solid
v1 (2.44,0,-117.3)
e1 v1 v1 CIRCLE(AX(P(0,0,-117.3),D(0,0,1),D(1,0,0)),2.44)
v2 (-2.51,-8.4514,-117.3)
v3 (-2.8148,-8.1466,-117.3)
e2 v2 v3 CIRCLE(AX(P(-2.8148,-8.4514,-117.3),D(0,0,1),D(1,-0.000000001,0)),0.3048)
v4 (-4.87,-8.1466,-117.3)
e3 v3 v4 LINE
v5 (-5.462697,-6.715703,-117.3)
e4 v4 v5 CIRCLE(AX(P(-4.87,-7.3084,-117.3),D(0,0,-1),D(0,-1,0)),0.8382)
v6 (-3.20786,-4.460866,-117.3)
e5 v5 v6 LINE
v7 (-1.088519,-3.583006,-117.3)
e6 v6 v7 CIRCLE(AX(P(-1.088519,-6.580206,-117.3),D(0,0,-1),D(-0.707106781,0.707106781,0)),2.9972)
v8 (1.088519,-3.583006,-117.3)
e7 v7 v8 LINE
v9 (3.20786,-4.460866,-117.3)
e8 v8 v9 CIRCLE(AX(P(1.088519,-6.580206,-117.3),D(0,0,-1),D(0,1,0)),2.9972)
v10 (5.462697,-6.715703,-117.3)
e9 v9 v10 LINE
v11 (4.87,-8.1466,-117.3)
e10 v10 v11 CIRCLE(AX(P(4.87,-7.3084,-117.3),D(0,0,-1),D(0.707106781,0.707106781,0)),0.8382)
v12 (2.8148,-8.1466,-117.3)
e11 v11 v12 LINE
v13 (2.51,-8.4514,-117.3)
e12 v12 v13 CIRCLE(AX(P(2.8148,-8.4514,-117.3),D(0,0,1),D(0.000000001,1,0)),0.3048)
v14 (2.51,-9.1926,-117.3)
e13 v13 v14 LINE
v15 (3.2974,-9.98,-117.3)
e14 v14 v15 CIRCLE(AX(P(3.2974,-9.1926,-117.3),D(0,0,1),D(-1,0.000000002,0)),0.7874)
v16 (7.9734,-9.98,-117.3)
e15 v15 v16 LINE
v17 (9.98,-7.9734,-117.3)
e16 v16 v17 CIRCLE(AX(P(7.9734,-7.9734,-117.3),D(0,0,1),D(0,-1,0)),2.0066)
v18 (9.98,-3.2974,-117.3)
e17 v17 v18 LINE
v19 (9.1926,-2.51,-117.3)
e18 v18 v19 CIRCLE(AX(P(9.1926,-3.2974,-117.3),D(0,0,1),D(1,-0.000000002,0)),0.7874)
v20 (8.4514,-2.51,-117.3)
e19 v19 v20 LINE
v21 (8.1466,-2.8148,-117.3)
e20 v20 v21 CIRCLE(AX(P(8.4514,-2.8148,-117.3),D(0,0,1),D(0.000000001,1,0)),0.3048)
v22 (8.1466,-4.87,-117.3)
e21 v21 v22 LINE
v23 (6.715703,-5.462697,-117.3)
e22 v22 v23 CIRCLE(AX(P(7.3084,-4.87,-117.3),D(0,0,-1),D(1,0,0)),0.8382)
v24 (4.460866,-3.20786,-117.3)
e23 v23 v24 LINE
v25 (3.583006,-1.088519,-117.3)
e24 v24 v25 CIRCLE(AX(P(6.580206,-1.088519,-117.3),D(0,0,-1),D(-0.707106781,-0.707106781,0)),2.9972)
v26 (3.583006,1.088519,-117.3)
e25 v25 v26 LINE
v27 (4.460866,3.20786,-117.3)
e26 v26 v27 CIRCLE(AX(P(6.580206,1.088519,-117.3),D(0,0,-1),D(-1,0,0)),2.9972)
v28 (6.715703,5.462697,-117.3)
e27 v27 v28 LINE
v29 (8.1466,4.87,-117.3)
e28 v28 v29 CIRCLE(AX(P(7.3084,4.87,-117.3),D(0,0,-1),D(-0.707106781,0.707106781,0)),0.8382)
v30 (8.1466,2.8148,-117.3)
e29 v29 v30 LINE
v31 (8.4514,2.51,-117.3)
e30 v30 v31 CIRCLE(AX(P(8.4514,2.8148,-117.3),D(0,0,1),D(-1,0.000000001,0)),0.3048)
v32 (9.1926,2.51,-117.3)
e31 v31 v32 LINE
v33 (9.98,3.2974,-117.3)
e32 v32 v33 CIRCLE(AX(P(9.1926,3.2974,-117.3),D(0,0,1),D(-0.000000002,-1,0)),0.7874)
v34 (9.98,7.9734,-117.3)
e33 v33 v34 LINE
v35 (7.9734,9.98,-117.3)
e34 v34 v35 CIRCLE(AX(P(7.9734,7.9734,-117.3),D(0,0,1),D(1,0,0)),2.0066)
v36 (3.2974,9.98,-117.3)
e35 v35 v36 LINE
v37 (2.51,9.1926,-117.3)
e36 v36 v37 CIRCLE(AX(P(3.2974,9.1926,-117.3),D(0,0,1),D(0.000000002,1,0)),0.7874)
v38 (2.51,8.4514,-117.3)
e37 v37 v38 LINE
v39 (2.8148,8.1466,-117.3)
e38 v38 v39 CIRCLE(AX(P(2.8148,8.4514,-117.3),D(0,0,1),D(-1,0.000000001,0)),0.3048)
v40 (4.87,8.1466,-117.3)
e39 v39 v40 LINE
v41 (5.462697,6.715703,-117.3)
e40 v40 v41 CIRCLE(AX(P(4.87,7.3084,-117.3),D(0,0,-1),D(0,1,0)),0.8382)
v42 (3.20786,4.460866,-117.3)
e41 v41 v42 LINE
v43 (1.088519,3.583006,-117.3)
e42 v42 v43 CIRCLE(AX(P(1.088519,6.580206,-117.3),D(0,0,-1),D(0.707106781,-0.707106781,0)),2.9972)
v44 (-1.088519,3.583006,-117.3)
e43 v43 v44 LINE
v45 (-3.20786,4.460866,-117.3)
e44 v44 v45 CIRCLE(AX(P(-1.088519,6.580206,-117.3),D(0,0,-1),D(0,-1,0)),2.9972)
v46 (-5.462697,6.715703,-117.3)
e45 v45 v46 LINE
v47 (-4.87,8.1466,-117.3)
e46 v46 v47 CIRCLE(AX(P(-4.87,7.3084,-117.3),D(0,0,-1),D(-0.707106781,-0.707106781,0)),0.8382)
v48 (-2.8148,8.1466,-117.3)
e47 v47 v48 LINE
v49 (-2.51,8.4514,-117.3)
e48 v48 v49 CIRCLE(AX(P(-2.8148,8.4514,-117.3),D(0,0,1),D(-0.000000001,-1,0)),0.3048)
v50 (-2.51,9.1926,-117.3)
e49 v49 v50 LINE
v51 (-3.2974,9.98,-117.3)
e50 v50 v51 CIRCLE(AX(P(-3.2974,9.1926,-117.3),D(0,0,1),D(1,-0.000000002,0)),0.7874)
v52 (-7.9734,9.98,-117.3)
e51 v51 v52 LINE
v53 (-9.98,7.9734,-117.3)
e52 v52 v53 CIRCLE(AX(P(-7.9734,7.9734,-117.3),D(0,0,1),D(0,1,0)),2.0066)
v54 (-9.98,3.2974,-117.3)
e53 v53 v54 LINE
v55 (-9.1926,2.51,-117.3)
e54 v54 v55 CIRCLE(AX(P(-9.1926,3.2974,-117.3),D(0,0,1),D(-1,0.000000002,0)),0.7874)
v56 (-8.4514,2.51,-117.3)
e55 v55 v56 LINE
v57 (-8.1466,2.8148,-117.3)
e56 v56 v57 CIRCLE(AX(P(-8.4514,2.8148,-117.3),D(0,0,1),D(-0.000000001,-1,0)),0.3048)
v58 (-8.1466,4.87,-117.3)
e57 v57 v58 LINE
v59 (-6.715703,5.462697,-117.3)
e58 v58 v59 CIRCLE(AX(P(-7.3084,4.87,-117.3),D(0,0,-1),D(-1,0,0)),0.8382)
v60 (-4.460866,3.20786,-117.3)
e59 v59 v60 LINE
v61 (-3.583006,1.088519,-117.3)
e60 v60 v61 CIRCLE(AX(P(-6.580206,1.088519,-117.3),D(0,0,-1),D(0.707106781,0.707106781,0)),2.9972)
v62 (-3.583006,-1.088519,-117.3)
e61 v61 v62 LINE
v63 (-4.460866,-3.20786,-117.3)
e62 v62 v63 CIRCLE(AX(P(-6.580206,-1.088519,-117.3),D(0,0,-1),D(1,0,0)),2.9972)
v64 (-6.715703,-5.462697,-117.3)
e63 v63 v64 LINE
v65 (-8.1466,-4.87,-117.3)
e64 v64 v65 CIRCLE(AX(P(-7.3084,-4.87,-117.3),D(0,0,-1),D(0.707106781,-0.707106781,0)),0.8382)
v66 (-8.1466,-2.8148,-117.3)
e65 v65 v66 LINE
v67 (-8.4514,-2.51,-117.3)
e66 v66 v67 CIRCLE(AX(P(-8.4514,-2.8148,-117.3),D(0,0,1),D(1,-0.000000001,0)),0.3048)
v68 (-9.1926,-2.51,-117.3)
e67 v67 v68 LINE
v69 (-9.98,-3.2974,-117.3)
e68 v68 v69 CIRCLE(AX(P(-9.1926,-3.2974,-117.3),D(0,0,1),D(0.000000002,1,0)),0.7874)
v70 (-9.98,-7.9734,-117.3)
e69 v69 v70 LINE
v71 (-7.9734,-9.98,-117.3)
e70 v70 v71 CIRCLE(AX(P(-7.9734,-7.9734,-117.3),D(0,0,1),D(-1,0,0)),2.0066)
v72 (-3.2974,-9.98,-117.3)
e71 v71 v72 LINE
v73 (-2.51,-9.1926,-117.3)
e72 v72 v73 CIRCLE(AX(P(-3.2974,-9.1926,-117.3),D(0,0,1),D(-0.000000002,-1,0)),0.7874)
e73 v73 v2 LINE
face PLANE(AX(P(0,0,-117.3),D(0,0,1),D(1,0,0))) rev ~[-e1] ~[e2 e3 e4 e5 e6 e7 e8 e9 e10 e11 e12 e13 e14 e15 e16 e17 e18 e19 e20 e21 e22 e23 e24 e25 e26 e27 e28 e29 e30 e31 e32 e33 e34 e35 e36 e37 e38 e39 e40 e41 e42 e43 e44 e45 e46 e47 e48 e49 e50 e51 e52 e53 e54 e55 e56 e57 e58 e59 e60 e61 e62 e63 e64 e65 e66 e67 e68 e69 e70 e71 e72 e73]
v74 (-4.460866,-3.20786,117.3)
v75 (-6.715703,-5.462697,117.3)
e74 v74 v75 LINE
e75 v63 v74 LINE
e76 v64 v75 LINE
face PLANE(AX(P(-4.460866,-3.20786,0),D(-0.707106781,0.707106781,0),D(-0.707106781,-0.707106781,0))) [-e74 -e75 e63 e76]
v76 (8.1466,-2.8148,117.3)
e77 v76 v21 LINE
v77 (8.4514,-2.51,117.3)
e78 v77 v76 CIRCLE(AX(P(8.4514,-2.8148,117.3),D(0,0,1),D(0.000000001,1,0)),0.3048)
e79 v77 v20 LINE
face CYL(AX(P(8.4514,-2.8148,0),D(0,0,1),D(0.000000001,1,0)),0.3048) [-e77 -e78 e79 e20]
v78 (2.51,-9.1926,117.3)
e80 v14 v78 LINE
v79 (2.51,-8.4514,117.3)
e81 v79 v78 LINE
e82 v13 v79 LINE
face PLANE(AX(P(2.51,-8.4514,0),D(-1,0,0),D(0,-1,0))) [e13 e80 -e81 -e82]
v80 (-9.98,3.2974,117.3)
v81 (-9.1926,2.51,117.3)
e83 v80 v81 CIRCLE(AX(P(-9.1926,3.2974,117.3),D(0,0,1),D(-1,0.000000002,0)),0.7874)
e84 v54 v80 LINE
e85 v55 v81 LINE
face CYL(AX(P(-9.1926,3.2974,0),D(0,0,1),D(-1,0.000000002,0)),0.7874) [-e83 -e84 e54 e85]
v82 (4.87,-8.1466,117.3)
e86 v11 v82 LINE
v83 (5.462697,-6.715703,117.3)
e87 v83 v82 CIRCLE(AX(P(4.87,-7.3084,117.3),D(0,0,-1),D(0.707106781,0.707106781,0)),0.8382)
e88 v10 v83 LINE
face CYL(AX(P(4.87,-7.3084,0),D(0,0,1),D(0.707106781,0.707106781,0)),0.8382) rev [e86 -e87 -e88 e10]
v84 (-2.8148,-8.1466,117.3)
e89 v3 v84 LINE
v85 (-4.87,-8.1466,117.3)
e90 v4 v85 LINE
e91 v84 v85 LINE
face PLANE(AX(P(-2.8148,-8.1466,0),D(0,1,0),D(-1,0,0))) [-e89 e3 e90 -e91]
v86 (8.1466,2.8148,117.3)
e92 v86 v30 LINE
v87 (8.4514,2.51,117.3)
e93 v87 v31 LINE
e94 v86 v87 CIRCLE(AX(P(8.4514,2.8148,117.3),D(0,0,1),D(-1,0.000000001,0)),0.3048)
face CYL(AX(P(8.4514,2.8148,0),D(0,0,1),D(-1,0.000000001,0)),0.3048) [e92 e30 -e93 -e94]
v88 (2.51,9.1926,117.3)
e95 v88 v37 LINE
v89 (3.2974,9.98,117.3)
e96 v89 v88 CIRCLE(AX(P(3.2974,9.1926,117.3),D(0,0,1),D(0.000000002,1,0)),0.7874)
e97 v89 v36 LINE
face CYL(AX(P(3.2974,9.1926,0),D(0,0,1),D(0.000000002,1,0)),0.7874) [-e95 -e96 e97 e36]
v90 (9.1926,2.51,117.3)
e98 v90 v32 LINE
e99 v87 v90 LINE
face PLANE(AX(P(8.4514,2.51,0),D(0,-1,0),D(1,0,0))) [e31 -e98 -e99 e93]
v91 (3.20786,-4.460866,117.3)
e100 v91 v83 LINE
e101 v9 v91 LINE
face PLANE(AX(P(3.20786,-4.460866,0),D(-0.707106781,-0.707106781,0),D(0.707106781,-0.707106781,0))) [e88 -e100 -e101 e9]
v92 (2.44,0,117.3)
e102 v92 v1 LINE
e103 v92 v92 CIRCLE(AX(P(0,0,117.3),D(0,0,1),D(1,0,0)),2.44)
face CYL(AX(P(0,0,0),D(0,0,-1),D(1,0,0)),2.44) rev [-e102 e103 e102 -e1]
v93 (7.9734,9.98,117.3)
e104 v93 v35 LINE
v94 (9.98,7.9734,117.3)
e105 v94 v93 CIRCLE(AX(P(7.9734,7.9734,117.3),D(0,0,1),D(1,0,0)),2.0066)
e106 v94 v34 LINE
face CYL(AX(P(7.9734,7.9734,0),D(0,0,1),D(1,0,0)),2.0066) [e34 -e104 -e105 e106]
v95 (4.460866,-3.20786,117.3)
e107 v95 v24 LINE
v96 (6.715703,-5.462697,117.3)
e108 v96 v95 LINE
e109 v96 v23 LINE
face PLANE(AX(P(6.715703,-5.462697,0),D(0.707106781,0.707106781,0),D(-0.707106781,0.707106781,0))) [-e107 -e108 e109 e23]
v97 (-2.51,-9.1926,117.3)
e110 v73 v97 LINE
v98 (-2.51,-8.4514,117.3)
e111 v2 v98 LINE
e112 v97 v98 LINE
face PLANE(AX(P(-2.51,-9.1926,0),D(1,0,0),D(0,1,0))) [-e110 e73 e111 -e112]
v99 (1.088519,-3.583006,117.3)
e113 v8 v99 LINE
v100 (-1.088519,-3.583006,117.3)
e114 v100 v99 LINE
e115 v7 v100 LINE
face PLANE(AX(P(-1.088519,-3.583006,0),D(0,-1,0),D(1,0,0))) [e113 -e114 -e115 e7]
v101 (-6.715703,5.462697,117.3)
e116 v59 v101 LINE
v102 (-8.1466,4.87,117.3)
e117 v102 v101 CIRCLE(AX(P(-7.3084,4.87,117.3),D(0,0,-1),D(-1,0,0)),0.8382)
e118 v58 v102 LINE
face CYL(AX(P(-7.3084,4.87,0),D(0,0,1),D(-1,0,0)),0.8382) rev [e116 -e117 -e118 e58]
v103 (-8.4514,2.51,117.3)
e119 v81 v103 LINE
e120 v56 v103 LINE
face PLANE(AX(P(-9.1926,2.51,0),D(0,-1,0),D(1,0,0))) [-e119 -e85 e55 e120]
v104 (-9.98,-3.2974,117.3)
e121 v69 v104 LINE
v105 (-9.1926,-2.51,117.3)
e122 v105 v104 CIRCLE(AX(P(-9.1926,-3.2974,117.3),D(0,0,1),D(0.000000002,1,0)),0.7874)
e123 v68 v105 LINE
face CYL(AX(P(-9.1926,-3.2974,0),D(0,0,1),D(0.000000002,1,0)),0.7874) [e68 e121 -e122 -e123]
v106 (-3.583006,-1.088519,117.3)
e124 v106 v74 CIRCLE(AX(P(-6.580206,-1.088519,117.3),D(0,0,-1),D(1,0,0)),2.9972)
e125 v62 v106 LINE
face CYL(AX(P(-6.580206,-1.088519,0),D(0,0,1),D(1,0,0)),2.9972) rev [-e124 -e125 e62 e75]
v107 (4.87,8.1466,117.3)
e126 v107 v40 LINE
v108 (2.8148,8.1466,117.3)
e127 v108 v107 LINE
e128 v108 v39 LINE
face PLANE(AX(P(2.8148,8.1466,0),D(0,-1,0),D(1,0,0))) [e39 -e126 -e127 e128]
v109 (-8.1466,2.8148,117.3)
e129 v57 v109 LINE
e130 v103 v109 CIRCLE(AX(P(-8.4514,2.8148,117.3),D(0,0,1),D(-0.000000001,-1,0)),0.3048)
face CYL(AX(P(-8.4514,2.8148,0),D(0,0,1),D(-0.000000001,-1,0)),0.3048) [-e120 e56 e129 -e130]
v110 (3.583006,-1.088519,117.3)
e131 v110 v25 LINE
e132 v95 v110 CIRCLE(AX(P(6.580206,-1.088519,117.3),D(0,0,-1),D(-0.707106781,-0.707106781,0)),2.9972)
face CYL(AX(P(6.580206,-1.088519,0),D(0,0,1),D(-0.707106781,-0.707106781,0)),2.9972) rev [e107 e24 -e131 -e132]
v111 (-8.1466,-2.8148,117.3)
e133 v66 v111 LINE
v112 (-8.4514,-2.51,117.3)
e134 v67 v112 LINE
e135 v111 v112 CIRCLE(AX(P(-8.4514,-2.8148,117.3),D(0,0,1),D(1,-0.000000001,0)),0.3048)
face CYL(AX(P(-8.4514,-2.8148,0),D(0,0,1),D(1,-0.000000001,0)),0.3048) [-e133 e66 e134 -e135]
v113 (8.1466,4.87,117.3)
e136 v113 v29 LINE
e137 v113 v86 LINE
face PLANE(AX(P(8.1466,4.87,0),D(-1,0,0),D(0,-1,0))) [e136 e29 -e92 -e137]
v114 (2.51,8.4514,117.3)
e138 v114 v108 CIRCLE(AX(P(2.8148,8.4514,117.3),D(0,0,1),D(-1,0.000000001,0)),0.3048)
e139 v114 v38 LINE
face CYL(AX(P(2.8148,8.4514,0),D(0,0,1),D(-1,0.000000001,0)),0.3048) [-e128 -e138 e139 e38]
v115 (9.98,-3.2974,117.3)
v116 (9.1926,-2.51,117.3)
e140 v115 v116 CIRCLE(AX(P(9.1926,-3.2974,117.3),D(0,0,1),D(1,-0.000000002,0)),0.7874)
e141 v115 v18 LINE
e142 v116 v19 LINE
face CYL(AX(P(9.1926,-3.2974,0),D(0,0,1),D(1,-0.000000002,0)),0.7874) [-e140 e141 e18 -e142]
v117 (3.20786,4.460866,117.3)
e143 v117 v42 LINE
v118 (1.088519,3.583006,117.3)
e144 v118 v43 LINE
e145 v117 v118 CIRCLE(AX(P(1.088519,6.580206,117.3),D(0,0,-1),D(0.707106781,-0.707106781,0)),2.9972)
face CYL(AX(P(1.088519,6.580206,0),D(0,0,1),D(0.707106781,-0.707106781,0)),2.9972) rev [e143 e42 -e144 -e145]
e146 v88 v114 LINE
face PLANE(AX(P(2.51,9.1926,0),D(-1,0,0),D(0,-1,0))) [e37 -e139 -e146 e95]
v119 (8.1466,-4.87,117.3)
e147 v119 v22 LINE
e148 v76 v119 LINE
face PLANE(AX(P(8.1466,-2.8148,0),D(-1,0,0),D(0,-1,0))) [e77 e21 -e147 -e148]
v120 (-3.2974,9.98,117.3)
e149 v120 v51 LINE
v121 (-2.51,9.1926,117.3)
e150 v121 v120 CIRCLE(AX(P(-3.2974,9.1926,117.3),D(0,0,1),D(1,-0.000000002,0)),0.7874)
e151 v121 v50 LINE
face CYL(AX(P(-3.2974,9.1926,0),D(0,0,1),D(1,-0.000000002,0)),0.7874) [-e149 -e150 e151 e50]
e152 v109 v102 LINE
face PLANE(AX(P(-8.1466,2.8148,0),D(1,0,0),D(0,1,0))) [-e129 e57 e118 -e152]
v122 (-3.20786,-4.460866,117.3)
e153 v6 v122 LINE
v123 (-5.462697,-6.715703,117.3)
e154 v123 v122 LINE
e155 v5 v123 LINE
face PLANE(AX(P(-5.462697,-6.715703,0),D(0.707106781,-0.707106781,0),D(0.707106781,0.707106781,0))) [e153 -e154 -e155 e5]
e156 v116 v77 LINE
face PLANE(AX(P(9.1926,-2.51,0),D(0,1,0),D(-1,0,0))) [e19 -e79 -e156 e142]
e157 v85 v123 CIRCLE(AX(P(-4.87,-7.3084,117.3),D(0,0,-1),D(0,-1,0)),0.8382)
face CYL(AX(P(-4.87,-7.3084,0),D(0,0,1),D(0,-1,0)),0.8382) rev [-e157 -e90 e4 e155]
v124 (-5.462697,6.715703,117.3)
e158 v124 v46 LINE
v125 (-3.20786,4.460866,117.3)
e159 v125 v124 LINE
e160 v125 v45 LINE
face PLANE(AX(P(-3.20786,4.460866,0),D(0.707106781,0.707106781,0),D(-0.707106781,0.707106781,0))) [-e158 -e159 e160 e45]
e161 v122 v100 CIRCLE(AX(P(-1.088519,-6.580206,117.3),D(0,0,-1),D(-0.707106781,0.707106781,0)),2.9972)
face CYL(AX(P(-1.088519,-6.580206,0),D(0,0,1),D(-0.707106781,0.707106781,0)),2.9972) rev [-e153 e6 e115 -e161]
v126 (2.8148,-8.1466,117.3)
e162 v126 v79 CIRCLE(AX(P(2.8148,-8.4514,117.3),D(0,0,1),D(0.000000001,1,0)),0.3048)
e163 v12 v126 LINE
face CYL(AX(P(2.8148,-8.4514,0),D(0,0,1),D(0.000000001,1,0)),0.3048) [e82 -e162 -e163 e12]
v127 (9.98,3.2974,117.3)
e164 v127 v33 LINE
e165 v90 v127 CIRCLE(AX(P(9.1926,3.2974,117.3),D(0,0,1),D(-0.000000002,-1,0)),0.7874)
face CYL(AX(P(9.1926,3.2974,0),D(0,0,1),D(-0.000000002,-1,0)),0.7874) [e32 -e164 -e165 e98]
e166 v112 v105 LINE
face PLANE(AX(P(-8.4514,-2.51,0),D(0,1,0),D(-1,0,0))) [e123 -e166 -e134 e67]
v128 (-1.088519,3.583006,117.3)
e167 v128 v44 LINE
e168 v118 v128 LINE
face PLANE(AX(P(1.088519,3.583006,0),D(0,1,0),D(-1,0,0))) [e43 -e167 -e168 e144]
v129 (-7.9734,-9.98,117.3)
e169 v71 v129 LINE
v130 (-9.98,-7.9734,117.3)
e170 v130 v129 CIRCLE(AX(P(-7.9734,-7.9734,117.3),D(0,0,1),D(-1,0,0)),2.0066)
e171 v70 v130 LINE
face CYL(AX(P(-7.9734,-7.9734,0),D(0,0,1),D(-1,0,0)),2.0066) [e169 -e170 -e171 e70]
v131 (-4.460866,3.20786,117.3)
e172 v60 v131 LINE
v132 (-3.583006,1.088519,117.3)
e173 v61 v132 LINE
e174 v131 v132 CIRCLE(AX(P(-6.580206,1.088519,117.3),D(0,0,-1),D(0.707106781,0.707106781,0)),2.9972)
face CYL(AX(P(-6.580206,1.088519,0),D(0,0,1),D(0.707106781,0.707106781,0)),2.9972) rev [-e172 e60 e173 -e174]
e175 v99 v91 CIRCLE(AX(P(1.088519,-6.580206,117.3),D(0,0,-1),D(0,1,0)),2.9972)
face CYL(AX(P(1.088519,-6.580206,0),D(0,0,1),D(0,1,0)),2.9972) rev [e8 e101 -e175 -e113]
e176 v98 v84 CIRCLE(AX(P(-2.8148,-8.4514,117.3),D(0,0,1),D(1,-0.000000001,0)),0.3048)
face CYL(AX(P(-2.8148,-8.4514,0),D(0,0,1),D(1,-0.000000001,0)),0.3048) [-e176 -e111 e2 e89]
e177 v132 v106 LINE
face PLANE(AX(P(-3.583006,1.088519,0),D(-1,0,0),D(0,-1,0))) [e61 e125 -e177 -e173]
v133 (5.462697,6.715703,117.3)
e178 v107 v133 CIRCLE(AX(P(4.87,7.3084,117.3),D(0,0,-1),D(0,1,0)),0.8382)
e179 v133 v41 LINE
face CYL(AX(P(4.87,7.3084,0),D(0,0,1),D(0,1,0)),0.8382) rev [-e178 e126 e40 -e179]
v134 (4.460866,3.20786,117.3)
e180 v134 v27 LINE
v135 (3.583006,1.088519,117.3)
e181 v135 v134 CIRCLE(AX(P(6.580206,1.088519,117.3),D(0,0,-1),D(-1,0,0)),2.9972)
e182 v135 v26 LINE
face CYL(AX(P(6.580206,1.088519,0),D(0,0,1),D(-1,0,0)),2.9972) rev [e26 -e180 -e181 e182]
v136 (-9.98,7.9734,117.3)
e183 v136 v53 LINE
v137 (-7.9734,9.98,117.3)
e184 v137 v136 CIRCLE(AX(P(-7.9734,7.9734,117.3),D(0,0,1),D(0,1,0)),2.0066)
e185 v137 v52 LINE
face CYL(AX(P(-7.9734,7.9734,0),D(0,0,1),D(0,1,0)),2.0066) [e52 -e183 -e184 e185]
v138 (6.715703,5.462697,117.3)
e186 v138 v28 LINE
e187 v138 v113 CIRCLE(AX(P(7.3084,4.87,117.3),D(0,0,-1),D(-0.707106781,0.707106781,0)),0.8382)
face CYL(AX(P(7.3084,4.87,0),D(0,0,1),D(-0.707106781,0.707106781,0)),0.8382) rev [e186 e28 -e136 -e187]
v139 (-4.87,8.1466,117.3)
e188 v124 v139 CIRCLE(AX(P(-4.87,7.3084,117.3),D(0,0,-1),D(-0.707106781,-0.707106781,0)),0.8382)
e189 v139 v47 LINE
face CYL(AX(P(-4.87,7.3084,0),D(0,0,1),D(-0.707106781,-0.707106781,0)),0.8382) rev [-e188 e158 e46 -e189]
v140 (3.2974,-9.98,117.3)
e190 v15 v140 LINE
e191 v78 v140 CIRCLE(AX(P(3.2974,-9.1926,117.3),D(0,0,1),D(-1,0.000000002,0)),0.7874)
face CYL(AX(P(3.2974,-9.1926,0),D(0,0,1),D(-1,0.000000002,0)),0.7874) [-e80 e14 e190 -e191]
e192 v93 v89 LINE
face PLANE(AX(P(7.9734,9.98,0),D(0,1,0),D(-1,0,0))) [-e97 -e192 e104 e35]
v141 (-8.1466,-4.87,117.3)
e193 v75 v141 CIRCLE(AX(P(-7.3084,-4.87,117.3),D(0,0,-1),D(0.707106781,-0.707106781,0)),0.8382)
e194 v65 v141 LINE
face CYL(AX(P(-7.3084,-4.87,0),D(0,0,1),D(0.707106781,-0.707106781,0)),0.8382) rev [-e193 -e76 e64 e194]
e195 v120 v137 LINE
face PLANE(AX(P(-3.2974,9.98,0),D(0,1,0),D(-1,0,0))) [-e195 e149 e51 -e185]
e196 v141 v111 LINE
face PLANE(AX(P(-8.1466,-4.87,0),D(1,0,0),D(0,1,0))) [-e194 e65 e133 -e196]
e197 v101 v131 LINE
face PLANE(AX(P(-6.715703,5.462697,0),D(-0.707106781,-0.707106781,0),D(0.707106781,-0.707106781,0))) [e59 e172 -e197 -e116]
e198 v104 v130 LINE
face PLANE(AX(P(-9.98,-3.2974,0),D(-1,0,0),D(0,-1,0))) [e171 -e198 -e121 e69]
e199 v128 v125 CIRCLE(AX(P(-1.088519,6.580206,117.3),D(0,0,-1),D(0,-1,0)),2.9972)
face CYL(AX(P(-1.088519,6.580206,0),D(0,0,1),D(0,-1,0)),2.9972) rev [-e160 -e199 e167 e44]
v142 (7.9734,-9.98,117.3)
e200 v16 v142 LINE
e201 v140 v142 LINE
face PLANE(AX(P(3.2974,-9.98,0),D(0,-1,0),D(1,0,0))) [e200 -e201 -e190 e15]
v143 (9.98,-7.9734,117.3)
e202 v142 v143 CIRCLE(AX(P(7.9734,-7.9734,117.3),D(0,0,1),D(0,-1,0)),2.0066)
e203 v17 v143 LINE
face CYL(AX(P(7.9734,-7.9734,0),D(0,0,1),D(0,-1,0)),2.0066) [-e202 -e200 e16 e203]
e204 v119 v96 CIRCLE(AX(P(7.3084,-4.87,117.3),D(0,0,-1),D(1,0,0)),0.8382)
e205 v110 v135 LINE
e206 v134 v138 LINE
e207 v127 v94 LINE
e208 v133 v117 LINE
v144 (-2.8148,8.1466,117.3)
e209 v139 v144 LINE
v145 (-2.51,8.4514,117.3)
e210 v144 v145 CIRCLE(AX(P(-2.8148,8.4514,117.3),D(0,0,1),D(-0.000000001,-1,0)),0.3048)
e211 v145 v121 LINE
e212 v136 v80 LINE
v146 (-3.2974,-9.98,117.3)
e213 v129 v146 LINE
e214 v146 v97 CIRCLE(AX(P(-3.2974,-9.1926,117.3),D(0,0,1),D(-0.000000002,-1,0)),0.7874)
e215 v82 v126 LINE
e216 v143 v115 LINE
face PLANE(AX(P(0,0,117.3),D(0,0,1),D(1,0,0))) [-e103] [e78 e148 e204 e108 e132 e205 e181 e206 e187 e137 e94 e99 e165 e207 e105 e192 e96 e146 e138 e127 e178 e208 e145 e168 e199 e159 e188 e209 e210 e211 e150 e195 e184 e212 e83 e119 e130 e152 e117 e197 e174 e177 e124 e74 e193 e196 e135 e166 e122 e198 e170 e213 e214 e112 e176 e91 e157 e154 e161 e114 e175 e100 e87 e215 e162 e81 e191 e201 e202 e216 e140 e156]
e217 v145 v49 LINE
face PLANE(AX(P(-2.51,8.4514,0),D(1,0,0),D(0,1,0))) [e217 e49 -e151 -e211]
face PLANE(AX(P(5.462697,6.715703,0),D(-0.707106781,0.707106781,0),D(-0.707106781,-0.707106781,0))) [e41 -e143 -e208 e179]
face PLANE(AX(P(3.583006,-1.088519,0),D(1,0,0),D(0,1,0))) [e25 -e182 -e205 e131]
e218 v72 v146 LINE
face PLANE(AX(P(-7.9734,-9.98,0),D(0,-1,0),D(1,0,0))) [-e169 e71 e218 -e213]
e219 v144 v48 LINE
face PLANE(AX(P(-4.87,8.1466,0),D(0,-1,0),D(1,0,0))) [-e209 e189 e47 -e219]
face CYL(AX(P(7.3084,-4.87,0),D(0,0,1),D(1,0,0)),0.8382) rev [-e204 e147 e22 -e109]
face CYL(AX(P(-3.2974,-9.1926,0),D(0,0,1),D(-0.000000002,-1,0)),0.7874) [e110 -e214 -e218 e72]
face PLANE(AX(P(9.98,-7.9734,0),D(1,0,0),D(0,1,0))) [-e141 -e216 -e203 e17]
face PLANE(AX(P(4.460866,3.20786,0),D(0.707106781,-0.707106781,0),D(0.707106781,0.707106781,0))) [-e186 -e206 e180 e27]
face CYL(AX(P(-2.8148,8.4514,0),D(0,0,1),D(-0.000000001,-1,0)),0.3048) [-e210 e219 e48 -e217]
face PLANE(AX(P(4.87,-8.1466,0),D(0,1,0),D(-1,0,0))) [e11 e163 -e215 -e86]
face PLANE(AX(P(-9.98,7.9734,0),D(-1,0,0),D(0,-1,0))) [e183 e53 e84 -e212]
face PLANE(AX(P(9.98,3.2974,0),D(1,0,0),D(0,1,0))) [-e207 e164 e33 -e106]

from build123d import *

# Parameters (mm, degrees)
SKETCH1_R           = 2.44
BOSS_EXTRUDE1_DEPTH = 117.3


with BuildPart() as part:
    # Sketch1 → Boss-Extrude1 (new body, symmetric)
    with BuildSketch(Plane.XY):
        with BuildLine():
            Line((-9.98, 7.9734), (-9.98, 3.2974))
            ThreePointArc((-9.98, 3.2974), (-9.74937588, 2.74062412), (-9.1926, 2.51))
            Line((-9.1926, 2.51), (-8.4514, 2.51))
            ThreePointArc((-8.4514, 2.51), (-8.235873853, 2.599273853), (-8.1466, 2.8148))
            Line((-8.1466, 2.8148), (-8.1466, 4.87))
            ThreePointArc((-8.1466, 4.87), (-7.629165253, 5.644395824), (-6.715703096, 5.462696904))
            Line((-6.715703096, 5.462696904), (-4.460865747, 3.207859555))
            ThreePointArc((-4.460865747, 3.207859555), (-3.811154457, 2.235497894), (-3.583006192, 1.088519111))
            Line((-3.583006192, 1.088519111), (-3.583006192, -1.088519111))
            ThreePointArc((-3.583006192, -1.088519111), (-3.811154457, -2.235497894), (-4.460865747, -3.207859555))
            Line((-4.460865747, -3.207859555), (-6.715703096, -5.462696904))
            ThreePointArc((-6.715703096, -5.462696904), (-7.629165253, -5.644395824), (-8.1466, -4.87))
            Line((-8.1466, -4.87), (-8.1466, -2.8148))
            ThreePointArc((-8.1466, -2.8148), (-8.235873853, -2.599273853), (-8.4514, -2.51))
            Line((-8.4514, -2.51), (-9.1926, -2.51))
            ThreePointArc((-9.1926, -2.51), (-9.74937588, -2.74062412), (-9.98, -3.2974))
            Line((-9.98, -3.2974), (-9.98, -7.9734))
            ThreePointArc((-9.98, -7.9734), (-9.392280467, -9.392280467), (-7.9734, -9.98))
            Line((-7.9734, -9.98), (-3.2974, -9.98))
            ThreePointArc((-3.2974, -9.98), (-2.74062412, -9.74937588), (-2.51, -9.1926))
            Line((-2.51, -9.1926), (-2.51, -8.4514))
            ThreePointArc((-2.51, -8.4514), (-2.599273853, -8.235873853), (-2.8148, -8.1466))
            Line((-2.8148, -8.1466), (-4.87, -8.1466))
            ThreePointArc((-4.87, -8.1466), (-5.644395824, -7.629165253), (-5.462696904, -6.715703096))
            Line((-5.462696904, -6.715703096), (-3.207859555, -4.460865747))
            ThreePointArc((-3.207859555, -4.460865747), (-2.235497894, -3.811154457), (-1.088519111, -3.583006192))
            Line((-1.088519111, -3.583006192), (1.088519111, -3.583006192))
            ThreePointArc((1.088519111, -3.583006192), (2.235497894, -3.811154457), (3.207859555, -4.460865747))
            Line((3.207859555, -4.460865747), (5.462696904, -6.715703096))
            ThreePointArc((5.462696904, -6.715703096), (5.644395824, -7.629165253), (4.87, -8.1466))
            Line((4.87, -8.1466), (2.8148, -8.1466))
            ThreePointArc((2.8148, -8.1466), (2.599273853, -8.235873853), (2.51, -8.4514))
            Line((2.51, -8.4514), (2.51, -9.1926))
            ThreePointArc((2.51, -9.1926), (2.74062412, -9.74937588), (3.2974, -9.98))
            Line((3.2974, -9.98), (7.9734, -9.98))
            ThreePointArc((7.9734, -9.98), (9.392280467, -9.392280467), (9.98, -7.9734))
            Line((9.98, -7.9734), (9.98, -3.2974))
            ThreePointArc((9.98, -3.2974), (9.74937588, -2.74062412), (9.1926, -2.51))
            Line((9.1926, -2.51), (8.4514, -2.51))
            ThreePointArc((8.4514, -2.51), (8.235873853, -2.599273853), (8.1466, -2.8148))
            Line((8.1466, -2.8148), (8.1466, -4.87))
            ThreePointArc((8.1466, -4.87), (7.629165253, -5.644395824), (6.715703096, -5.462696904))
            Line((6.715703096, -5.462696904), (4.460865747, -3.207859555))
            ThreePointArc((4.460865747, -3.207859555), (3.811154457, -2.235497894), (3.583006192, -1.088519111))
            Line((3.583006192, -1.088519111), (3.583006192, 1.088519111))
            ThreePointArc((3.583006192, 1.088519111), (3.811154457, 2.235497894), (4.460865747, 3.207859555))
            Line((4.460865747, 3.207859555), (6.715703096, 5.462696904))
            ThreePointArc((6.715703096, 5.462696904), (7.629165253, 5.644395824), (8.1466, 4.87))
            Line((8.1466, 4.87), (8.1466, 2.8148))
            ThreePointArc((8.1466, 2.8148), (8.235873853, 2.599273853), (8.4514, 2.51))
            Line((8.4514, 2.51), (9.1926, 2.51))
            ThreePointArc((9.1926, 2.51), (9.74937588, 2.74062412), (9.98, 3.2974))
            Line((9.98, 3.2974), (9.98, 7.9734))
            ThreePointArc((9.98, 7.9734), (9.392280467, 9.392280467), (7.9734, 9.98))
            Line((7.9734, 9.98), (3.2974, 9.98))
            ThreePointArc((3.2974, 9.98), (2.74062412, 9.74937588), (2.51, 9.1926))
            Line((2.51, 9.1926), (2.51, 8.4514))
            ThreePointArc((2.51, 8.4514), (2.599273853, 8.235873853), (2.8148, 8.1466))
            Line((2.8148, 8.1466), (4.87, 8.1466))
            ThreePointArc((4.87, 8.1466), (5.644395824, 7.629165253), (5.462696904, 6.715703096))
            Line((5.462696904, 6.715703096), (3.207859555, 4.460865747))
            ThreePointArc((3.207859555, 4.460865747), (2.235497894, 3.811154457), (1.088519111, 3.583006192))
            Line((1.088519111, 3.583006192), (-1.088519111, 3.583006192))
            ThreePointArc((-1.088519111, 3.583006192), (-2.235497894, 3.811154457), (-3.207859555, 4.460865747))
            Line((-3.207859555, 4.460865747), (-5.462696904, 6.715703096))
            ThreePointArc((-5.462696904, 6.715703096), (-5.644395824, 7.629165253), (-4.87, 8.1466))
            Line((-4.87, 8.1466), (-2.8148, 8.1466))
            ThreePointArc((-2.8148, 8.1466), (-2.599273853, 8.235873853), (-2.51, 8.4514))
            Line((-2.51, 8.4514), (-2.51, 9.1926))
            ThreePointArc((-2.51, 9.1926), (-2.74062412, 9.74937588), (-3.2974, 9.98))
            Line((-3.2974, 9.98), (-7.9734, 9.98))
            ThreePointArc((-7.9734, 9.98), (-9.392280467, 9.392280467), (-9.98, 7.9734))
        make_face()
        Circle(SKETCH1_R, mode=Mode.SUBTRACT)
    extrude(amount=BOSS_EXTRUDE1_DEPTH, both=True)


solid = part.part
